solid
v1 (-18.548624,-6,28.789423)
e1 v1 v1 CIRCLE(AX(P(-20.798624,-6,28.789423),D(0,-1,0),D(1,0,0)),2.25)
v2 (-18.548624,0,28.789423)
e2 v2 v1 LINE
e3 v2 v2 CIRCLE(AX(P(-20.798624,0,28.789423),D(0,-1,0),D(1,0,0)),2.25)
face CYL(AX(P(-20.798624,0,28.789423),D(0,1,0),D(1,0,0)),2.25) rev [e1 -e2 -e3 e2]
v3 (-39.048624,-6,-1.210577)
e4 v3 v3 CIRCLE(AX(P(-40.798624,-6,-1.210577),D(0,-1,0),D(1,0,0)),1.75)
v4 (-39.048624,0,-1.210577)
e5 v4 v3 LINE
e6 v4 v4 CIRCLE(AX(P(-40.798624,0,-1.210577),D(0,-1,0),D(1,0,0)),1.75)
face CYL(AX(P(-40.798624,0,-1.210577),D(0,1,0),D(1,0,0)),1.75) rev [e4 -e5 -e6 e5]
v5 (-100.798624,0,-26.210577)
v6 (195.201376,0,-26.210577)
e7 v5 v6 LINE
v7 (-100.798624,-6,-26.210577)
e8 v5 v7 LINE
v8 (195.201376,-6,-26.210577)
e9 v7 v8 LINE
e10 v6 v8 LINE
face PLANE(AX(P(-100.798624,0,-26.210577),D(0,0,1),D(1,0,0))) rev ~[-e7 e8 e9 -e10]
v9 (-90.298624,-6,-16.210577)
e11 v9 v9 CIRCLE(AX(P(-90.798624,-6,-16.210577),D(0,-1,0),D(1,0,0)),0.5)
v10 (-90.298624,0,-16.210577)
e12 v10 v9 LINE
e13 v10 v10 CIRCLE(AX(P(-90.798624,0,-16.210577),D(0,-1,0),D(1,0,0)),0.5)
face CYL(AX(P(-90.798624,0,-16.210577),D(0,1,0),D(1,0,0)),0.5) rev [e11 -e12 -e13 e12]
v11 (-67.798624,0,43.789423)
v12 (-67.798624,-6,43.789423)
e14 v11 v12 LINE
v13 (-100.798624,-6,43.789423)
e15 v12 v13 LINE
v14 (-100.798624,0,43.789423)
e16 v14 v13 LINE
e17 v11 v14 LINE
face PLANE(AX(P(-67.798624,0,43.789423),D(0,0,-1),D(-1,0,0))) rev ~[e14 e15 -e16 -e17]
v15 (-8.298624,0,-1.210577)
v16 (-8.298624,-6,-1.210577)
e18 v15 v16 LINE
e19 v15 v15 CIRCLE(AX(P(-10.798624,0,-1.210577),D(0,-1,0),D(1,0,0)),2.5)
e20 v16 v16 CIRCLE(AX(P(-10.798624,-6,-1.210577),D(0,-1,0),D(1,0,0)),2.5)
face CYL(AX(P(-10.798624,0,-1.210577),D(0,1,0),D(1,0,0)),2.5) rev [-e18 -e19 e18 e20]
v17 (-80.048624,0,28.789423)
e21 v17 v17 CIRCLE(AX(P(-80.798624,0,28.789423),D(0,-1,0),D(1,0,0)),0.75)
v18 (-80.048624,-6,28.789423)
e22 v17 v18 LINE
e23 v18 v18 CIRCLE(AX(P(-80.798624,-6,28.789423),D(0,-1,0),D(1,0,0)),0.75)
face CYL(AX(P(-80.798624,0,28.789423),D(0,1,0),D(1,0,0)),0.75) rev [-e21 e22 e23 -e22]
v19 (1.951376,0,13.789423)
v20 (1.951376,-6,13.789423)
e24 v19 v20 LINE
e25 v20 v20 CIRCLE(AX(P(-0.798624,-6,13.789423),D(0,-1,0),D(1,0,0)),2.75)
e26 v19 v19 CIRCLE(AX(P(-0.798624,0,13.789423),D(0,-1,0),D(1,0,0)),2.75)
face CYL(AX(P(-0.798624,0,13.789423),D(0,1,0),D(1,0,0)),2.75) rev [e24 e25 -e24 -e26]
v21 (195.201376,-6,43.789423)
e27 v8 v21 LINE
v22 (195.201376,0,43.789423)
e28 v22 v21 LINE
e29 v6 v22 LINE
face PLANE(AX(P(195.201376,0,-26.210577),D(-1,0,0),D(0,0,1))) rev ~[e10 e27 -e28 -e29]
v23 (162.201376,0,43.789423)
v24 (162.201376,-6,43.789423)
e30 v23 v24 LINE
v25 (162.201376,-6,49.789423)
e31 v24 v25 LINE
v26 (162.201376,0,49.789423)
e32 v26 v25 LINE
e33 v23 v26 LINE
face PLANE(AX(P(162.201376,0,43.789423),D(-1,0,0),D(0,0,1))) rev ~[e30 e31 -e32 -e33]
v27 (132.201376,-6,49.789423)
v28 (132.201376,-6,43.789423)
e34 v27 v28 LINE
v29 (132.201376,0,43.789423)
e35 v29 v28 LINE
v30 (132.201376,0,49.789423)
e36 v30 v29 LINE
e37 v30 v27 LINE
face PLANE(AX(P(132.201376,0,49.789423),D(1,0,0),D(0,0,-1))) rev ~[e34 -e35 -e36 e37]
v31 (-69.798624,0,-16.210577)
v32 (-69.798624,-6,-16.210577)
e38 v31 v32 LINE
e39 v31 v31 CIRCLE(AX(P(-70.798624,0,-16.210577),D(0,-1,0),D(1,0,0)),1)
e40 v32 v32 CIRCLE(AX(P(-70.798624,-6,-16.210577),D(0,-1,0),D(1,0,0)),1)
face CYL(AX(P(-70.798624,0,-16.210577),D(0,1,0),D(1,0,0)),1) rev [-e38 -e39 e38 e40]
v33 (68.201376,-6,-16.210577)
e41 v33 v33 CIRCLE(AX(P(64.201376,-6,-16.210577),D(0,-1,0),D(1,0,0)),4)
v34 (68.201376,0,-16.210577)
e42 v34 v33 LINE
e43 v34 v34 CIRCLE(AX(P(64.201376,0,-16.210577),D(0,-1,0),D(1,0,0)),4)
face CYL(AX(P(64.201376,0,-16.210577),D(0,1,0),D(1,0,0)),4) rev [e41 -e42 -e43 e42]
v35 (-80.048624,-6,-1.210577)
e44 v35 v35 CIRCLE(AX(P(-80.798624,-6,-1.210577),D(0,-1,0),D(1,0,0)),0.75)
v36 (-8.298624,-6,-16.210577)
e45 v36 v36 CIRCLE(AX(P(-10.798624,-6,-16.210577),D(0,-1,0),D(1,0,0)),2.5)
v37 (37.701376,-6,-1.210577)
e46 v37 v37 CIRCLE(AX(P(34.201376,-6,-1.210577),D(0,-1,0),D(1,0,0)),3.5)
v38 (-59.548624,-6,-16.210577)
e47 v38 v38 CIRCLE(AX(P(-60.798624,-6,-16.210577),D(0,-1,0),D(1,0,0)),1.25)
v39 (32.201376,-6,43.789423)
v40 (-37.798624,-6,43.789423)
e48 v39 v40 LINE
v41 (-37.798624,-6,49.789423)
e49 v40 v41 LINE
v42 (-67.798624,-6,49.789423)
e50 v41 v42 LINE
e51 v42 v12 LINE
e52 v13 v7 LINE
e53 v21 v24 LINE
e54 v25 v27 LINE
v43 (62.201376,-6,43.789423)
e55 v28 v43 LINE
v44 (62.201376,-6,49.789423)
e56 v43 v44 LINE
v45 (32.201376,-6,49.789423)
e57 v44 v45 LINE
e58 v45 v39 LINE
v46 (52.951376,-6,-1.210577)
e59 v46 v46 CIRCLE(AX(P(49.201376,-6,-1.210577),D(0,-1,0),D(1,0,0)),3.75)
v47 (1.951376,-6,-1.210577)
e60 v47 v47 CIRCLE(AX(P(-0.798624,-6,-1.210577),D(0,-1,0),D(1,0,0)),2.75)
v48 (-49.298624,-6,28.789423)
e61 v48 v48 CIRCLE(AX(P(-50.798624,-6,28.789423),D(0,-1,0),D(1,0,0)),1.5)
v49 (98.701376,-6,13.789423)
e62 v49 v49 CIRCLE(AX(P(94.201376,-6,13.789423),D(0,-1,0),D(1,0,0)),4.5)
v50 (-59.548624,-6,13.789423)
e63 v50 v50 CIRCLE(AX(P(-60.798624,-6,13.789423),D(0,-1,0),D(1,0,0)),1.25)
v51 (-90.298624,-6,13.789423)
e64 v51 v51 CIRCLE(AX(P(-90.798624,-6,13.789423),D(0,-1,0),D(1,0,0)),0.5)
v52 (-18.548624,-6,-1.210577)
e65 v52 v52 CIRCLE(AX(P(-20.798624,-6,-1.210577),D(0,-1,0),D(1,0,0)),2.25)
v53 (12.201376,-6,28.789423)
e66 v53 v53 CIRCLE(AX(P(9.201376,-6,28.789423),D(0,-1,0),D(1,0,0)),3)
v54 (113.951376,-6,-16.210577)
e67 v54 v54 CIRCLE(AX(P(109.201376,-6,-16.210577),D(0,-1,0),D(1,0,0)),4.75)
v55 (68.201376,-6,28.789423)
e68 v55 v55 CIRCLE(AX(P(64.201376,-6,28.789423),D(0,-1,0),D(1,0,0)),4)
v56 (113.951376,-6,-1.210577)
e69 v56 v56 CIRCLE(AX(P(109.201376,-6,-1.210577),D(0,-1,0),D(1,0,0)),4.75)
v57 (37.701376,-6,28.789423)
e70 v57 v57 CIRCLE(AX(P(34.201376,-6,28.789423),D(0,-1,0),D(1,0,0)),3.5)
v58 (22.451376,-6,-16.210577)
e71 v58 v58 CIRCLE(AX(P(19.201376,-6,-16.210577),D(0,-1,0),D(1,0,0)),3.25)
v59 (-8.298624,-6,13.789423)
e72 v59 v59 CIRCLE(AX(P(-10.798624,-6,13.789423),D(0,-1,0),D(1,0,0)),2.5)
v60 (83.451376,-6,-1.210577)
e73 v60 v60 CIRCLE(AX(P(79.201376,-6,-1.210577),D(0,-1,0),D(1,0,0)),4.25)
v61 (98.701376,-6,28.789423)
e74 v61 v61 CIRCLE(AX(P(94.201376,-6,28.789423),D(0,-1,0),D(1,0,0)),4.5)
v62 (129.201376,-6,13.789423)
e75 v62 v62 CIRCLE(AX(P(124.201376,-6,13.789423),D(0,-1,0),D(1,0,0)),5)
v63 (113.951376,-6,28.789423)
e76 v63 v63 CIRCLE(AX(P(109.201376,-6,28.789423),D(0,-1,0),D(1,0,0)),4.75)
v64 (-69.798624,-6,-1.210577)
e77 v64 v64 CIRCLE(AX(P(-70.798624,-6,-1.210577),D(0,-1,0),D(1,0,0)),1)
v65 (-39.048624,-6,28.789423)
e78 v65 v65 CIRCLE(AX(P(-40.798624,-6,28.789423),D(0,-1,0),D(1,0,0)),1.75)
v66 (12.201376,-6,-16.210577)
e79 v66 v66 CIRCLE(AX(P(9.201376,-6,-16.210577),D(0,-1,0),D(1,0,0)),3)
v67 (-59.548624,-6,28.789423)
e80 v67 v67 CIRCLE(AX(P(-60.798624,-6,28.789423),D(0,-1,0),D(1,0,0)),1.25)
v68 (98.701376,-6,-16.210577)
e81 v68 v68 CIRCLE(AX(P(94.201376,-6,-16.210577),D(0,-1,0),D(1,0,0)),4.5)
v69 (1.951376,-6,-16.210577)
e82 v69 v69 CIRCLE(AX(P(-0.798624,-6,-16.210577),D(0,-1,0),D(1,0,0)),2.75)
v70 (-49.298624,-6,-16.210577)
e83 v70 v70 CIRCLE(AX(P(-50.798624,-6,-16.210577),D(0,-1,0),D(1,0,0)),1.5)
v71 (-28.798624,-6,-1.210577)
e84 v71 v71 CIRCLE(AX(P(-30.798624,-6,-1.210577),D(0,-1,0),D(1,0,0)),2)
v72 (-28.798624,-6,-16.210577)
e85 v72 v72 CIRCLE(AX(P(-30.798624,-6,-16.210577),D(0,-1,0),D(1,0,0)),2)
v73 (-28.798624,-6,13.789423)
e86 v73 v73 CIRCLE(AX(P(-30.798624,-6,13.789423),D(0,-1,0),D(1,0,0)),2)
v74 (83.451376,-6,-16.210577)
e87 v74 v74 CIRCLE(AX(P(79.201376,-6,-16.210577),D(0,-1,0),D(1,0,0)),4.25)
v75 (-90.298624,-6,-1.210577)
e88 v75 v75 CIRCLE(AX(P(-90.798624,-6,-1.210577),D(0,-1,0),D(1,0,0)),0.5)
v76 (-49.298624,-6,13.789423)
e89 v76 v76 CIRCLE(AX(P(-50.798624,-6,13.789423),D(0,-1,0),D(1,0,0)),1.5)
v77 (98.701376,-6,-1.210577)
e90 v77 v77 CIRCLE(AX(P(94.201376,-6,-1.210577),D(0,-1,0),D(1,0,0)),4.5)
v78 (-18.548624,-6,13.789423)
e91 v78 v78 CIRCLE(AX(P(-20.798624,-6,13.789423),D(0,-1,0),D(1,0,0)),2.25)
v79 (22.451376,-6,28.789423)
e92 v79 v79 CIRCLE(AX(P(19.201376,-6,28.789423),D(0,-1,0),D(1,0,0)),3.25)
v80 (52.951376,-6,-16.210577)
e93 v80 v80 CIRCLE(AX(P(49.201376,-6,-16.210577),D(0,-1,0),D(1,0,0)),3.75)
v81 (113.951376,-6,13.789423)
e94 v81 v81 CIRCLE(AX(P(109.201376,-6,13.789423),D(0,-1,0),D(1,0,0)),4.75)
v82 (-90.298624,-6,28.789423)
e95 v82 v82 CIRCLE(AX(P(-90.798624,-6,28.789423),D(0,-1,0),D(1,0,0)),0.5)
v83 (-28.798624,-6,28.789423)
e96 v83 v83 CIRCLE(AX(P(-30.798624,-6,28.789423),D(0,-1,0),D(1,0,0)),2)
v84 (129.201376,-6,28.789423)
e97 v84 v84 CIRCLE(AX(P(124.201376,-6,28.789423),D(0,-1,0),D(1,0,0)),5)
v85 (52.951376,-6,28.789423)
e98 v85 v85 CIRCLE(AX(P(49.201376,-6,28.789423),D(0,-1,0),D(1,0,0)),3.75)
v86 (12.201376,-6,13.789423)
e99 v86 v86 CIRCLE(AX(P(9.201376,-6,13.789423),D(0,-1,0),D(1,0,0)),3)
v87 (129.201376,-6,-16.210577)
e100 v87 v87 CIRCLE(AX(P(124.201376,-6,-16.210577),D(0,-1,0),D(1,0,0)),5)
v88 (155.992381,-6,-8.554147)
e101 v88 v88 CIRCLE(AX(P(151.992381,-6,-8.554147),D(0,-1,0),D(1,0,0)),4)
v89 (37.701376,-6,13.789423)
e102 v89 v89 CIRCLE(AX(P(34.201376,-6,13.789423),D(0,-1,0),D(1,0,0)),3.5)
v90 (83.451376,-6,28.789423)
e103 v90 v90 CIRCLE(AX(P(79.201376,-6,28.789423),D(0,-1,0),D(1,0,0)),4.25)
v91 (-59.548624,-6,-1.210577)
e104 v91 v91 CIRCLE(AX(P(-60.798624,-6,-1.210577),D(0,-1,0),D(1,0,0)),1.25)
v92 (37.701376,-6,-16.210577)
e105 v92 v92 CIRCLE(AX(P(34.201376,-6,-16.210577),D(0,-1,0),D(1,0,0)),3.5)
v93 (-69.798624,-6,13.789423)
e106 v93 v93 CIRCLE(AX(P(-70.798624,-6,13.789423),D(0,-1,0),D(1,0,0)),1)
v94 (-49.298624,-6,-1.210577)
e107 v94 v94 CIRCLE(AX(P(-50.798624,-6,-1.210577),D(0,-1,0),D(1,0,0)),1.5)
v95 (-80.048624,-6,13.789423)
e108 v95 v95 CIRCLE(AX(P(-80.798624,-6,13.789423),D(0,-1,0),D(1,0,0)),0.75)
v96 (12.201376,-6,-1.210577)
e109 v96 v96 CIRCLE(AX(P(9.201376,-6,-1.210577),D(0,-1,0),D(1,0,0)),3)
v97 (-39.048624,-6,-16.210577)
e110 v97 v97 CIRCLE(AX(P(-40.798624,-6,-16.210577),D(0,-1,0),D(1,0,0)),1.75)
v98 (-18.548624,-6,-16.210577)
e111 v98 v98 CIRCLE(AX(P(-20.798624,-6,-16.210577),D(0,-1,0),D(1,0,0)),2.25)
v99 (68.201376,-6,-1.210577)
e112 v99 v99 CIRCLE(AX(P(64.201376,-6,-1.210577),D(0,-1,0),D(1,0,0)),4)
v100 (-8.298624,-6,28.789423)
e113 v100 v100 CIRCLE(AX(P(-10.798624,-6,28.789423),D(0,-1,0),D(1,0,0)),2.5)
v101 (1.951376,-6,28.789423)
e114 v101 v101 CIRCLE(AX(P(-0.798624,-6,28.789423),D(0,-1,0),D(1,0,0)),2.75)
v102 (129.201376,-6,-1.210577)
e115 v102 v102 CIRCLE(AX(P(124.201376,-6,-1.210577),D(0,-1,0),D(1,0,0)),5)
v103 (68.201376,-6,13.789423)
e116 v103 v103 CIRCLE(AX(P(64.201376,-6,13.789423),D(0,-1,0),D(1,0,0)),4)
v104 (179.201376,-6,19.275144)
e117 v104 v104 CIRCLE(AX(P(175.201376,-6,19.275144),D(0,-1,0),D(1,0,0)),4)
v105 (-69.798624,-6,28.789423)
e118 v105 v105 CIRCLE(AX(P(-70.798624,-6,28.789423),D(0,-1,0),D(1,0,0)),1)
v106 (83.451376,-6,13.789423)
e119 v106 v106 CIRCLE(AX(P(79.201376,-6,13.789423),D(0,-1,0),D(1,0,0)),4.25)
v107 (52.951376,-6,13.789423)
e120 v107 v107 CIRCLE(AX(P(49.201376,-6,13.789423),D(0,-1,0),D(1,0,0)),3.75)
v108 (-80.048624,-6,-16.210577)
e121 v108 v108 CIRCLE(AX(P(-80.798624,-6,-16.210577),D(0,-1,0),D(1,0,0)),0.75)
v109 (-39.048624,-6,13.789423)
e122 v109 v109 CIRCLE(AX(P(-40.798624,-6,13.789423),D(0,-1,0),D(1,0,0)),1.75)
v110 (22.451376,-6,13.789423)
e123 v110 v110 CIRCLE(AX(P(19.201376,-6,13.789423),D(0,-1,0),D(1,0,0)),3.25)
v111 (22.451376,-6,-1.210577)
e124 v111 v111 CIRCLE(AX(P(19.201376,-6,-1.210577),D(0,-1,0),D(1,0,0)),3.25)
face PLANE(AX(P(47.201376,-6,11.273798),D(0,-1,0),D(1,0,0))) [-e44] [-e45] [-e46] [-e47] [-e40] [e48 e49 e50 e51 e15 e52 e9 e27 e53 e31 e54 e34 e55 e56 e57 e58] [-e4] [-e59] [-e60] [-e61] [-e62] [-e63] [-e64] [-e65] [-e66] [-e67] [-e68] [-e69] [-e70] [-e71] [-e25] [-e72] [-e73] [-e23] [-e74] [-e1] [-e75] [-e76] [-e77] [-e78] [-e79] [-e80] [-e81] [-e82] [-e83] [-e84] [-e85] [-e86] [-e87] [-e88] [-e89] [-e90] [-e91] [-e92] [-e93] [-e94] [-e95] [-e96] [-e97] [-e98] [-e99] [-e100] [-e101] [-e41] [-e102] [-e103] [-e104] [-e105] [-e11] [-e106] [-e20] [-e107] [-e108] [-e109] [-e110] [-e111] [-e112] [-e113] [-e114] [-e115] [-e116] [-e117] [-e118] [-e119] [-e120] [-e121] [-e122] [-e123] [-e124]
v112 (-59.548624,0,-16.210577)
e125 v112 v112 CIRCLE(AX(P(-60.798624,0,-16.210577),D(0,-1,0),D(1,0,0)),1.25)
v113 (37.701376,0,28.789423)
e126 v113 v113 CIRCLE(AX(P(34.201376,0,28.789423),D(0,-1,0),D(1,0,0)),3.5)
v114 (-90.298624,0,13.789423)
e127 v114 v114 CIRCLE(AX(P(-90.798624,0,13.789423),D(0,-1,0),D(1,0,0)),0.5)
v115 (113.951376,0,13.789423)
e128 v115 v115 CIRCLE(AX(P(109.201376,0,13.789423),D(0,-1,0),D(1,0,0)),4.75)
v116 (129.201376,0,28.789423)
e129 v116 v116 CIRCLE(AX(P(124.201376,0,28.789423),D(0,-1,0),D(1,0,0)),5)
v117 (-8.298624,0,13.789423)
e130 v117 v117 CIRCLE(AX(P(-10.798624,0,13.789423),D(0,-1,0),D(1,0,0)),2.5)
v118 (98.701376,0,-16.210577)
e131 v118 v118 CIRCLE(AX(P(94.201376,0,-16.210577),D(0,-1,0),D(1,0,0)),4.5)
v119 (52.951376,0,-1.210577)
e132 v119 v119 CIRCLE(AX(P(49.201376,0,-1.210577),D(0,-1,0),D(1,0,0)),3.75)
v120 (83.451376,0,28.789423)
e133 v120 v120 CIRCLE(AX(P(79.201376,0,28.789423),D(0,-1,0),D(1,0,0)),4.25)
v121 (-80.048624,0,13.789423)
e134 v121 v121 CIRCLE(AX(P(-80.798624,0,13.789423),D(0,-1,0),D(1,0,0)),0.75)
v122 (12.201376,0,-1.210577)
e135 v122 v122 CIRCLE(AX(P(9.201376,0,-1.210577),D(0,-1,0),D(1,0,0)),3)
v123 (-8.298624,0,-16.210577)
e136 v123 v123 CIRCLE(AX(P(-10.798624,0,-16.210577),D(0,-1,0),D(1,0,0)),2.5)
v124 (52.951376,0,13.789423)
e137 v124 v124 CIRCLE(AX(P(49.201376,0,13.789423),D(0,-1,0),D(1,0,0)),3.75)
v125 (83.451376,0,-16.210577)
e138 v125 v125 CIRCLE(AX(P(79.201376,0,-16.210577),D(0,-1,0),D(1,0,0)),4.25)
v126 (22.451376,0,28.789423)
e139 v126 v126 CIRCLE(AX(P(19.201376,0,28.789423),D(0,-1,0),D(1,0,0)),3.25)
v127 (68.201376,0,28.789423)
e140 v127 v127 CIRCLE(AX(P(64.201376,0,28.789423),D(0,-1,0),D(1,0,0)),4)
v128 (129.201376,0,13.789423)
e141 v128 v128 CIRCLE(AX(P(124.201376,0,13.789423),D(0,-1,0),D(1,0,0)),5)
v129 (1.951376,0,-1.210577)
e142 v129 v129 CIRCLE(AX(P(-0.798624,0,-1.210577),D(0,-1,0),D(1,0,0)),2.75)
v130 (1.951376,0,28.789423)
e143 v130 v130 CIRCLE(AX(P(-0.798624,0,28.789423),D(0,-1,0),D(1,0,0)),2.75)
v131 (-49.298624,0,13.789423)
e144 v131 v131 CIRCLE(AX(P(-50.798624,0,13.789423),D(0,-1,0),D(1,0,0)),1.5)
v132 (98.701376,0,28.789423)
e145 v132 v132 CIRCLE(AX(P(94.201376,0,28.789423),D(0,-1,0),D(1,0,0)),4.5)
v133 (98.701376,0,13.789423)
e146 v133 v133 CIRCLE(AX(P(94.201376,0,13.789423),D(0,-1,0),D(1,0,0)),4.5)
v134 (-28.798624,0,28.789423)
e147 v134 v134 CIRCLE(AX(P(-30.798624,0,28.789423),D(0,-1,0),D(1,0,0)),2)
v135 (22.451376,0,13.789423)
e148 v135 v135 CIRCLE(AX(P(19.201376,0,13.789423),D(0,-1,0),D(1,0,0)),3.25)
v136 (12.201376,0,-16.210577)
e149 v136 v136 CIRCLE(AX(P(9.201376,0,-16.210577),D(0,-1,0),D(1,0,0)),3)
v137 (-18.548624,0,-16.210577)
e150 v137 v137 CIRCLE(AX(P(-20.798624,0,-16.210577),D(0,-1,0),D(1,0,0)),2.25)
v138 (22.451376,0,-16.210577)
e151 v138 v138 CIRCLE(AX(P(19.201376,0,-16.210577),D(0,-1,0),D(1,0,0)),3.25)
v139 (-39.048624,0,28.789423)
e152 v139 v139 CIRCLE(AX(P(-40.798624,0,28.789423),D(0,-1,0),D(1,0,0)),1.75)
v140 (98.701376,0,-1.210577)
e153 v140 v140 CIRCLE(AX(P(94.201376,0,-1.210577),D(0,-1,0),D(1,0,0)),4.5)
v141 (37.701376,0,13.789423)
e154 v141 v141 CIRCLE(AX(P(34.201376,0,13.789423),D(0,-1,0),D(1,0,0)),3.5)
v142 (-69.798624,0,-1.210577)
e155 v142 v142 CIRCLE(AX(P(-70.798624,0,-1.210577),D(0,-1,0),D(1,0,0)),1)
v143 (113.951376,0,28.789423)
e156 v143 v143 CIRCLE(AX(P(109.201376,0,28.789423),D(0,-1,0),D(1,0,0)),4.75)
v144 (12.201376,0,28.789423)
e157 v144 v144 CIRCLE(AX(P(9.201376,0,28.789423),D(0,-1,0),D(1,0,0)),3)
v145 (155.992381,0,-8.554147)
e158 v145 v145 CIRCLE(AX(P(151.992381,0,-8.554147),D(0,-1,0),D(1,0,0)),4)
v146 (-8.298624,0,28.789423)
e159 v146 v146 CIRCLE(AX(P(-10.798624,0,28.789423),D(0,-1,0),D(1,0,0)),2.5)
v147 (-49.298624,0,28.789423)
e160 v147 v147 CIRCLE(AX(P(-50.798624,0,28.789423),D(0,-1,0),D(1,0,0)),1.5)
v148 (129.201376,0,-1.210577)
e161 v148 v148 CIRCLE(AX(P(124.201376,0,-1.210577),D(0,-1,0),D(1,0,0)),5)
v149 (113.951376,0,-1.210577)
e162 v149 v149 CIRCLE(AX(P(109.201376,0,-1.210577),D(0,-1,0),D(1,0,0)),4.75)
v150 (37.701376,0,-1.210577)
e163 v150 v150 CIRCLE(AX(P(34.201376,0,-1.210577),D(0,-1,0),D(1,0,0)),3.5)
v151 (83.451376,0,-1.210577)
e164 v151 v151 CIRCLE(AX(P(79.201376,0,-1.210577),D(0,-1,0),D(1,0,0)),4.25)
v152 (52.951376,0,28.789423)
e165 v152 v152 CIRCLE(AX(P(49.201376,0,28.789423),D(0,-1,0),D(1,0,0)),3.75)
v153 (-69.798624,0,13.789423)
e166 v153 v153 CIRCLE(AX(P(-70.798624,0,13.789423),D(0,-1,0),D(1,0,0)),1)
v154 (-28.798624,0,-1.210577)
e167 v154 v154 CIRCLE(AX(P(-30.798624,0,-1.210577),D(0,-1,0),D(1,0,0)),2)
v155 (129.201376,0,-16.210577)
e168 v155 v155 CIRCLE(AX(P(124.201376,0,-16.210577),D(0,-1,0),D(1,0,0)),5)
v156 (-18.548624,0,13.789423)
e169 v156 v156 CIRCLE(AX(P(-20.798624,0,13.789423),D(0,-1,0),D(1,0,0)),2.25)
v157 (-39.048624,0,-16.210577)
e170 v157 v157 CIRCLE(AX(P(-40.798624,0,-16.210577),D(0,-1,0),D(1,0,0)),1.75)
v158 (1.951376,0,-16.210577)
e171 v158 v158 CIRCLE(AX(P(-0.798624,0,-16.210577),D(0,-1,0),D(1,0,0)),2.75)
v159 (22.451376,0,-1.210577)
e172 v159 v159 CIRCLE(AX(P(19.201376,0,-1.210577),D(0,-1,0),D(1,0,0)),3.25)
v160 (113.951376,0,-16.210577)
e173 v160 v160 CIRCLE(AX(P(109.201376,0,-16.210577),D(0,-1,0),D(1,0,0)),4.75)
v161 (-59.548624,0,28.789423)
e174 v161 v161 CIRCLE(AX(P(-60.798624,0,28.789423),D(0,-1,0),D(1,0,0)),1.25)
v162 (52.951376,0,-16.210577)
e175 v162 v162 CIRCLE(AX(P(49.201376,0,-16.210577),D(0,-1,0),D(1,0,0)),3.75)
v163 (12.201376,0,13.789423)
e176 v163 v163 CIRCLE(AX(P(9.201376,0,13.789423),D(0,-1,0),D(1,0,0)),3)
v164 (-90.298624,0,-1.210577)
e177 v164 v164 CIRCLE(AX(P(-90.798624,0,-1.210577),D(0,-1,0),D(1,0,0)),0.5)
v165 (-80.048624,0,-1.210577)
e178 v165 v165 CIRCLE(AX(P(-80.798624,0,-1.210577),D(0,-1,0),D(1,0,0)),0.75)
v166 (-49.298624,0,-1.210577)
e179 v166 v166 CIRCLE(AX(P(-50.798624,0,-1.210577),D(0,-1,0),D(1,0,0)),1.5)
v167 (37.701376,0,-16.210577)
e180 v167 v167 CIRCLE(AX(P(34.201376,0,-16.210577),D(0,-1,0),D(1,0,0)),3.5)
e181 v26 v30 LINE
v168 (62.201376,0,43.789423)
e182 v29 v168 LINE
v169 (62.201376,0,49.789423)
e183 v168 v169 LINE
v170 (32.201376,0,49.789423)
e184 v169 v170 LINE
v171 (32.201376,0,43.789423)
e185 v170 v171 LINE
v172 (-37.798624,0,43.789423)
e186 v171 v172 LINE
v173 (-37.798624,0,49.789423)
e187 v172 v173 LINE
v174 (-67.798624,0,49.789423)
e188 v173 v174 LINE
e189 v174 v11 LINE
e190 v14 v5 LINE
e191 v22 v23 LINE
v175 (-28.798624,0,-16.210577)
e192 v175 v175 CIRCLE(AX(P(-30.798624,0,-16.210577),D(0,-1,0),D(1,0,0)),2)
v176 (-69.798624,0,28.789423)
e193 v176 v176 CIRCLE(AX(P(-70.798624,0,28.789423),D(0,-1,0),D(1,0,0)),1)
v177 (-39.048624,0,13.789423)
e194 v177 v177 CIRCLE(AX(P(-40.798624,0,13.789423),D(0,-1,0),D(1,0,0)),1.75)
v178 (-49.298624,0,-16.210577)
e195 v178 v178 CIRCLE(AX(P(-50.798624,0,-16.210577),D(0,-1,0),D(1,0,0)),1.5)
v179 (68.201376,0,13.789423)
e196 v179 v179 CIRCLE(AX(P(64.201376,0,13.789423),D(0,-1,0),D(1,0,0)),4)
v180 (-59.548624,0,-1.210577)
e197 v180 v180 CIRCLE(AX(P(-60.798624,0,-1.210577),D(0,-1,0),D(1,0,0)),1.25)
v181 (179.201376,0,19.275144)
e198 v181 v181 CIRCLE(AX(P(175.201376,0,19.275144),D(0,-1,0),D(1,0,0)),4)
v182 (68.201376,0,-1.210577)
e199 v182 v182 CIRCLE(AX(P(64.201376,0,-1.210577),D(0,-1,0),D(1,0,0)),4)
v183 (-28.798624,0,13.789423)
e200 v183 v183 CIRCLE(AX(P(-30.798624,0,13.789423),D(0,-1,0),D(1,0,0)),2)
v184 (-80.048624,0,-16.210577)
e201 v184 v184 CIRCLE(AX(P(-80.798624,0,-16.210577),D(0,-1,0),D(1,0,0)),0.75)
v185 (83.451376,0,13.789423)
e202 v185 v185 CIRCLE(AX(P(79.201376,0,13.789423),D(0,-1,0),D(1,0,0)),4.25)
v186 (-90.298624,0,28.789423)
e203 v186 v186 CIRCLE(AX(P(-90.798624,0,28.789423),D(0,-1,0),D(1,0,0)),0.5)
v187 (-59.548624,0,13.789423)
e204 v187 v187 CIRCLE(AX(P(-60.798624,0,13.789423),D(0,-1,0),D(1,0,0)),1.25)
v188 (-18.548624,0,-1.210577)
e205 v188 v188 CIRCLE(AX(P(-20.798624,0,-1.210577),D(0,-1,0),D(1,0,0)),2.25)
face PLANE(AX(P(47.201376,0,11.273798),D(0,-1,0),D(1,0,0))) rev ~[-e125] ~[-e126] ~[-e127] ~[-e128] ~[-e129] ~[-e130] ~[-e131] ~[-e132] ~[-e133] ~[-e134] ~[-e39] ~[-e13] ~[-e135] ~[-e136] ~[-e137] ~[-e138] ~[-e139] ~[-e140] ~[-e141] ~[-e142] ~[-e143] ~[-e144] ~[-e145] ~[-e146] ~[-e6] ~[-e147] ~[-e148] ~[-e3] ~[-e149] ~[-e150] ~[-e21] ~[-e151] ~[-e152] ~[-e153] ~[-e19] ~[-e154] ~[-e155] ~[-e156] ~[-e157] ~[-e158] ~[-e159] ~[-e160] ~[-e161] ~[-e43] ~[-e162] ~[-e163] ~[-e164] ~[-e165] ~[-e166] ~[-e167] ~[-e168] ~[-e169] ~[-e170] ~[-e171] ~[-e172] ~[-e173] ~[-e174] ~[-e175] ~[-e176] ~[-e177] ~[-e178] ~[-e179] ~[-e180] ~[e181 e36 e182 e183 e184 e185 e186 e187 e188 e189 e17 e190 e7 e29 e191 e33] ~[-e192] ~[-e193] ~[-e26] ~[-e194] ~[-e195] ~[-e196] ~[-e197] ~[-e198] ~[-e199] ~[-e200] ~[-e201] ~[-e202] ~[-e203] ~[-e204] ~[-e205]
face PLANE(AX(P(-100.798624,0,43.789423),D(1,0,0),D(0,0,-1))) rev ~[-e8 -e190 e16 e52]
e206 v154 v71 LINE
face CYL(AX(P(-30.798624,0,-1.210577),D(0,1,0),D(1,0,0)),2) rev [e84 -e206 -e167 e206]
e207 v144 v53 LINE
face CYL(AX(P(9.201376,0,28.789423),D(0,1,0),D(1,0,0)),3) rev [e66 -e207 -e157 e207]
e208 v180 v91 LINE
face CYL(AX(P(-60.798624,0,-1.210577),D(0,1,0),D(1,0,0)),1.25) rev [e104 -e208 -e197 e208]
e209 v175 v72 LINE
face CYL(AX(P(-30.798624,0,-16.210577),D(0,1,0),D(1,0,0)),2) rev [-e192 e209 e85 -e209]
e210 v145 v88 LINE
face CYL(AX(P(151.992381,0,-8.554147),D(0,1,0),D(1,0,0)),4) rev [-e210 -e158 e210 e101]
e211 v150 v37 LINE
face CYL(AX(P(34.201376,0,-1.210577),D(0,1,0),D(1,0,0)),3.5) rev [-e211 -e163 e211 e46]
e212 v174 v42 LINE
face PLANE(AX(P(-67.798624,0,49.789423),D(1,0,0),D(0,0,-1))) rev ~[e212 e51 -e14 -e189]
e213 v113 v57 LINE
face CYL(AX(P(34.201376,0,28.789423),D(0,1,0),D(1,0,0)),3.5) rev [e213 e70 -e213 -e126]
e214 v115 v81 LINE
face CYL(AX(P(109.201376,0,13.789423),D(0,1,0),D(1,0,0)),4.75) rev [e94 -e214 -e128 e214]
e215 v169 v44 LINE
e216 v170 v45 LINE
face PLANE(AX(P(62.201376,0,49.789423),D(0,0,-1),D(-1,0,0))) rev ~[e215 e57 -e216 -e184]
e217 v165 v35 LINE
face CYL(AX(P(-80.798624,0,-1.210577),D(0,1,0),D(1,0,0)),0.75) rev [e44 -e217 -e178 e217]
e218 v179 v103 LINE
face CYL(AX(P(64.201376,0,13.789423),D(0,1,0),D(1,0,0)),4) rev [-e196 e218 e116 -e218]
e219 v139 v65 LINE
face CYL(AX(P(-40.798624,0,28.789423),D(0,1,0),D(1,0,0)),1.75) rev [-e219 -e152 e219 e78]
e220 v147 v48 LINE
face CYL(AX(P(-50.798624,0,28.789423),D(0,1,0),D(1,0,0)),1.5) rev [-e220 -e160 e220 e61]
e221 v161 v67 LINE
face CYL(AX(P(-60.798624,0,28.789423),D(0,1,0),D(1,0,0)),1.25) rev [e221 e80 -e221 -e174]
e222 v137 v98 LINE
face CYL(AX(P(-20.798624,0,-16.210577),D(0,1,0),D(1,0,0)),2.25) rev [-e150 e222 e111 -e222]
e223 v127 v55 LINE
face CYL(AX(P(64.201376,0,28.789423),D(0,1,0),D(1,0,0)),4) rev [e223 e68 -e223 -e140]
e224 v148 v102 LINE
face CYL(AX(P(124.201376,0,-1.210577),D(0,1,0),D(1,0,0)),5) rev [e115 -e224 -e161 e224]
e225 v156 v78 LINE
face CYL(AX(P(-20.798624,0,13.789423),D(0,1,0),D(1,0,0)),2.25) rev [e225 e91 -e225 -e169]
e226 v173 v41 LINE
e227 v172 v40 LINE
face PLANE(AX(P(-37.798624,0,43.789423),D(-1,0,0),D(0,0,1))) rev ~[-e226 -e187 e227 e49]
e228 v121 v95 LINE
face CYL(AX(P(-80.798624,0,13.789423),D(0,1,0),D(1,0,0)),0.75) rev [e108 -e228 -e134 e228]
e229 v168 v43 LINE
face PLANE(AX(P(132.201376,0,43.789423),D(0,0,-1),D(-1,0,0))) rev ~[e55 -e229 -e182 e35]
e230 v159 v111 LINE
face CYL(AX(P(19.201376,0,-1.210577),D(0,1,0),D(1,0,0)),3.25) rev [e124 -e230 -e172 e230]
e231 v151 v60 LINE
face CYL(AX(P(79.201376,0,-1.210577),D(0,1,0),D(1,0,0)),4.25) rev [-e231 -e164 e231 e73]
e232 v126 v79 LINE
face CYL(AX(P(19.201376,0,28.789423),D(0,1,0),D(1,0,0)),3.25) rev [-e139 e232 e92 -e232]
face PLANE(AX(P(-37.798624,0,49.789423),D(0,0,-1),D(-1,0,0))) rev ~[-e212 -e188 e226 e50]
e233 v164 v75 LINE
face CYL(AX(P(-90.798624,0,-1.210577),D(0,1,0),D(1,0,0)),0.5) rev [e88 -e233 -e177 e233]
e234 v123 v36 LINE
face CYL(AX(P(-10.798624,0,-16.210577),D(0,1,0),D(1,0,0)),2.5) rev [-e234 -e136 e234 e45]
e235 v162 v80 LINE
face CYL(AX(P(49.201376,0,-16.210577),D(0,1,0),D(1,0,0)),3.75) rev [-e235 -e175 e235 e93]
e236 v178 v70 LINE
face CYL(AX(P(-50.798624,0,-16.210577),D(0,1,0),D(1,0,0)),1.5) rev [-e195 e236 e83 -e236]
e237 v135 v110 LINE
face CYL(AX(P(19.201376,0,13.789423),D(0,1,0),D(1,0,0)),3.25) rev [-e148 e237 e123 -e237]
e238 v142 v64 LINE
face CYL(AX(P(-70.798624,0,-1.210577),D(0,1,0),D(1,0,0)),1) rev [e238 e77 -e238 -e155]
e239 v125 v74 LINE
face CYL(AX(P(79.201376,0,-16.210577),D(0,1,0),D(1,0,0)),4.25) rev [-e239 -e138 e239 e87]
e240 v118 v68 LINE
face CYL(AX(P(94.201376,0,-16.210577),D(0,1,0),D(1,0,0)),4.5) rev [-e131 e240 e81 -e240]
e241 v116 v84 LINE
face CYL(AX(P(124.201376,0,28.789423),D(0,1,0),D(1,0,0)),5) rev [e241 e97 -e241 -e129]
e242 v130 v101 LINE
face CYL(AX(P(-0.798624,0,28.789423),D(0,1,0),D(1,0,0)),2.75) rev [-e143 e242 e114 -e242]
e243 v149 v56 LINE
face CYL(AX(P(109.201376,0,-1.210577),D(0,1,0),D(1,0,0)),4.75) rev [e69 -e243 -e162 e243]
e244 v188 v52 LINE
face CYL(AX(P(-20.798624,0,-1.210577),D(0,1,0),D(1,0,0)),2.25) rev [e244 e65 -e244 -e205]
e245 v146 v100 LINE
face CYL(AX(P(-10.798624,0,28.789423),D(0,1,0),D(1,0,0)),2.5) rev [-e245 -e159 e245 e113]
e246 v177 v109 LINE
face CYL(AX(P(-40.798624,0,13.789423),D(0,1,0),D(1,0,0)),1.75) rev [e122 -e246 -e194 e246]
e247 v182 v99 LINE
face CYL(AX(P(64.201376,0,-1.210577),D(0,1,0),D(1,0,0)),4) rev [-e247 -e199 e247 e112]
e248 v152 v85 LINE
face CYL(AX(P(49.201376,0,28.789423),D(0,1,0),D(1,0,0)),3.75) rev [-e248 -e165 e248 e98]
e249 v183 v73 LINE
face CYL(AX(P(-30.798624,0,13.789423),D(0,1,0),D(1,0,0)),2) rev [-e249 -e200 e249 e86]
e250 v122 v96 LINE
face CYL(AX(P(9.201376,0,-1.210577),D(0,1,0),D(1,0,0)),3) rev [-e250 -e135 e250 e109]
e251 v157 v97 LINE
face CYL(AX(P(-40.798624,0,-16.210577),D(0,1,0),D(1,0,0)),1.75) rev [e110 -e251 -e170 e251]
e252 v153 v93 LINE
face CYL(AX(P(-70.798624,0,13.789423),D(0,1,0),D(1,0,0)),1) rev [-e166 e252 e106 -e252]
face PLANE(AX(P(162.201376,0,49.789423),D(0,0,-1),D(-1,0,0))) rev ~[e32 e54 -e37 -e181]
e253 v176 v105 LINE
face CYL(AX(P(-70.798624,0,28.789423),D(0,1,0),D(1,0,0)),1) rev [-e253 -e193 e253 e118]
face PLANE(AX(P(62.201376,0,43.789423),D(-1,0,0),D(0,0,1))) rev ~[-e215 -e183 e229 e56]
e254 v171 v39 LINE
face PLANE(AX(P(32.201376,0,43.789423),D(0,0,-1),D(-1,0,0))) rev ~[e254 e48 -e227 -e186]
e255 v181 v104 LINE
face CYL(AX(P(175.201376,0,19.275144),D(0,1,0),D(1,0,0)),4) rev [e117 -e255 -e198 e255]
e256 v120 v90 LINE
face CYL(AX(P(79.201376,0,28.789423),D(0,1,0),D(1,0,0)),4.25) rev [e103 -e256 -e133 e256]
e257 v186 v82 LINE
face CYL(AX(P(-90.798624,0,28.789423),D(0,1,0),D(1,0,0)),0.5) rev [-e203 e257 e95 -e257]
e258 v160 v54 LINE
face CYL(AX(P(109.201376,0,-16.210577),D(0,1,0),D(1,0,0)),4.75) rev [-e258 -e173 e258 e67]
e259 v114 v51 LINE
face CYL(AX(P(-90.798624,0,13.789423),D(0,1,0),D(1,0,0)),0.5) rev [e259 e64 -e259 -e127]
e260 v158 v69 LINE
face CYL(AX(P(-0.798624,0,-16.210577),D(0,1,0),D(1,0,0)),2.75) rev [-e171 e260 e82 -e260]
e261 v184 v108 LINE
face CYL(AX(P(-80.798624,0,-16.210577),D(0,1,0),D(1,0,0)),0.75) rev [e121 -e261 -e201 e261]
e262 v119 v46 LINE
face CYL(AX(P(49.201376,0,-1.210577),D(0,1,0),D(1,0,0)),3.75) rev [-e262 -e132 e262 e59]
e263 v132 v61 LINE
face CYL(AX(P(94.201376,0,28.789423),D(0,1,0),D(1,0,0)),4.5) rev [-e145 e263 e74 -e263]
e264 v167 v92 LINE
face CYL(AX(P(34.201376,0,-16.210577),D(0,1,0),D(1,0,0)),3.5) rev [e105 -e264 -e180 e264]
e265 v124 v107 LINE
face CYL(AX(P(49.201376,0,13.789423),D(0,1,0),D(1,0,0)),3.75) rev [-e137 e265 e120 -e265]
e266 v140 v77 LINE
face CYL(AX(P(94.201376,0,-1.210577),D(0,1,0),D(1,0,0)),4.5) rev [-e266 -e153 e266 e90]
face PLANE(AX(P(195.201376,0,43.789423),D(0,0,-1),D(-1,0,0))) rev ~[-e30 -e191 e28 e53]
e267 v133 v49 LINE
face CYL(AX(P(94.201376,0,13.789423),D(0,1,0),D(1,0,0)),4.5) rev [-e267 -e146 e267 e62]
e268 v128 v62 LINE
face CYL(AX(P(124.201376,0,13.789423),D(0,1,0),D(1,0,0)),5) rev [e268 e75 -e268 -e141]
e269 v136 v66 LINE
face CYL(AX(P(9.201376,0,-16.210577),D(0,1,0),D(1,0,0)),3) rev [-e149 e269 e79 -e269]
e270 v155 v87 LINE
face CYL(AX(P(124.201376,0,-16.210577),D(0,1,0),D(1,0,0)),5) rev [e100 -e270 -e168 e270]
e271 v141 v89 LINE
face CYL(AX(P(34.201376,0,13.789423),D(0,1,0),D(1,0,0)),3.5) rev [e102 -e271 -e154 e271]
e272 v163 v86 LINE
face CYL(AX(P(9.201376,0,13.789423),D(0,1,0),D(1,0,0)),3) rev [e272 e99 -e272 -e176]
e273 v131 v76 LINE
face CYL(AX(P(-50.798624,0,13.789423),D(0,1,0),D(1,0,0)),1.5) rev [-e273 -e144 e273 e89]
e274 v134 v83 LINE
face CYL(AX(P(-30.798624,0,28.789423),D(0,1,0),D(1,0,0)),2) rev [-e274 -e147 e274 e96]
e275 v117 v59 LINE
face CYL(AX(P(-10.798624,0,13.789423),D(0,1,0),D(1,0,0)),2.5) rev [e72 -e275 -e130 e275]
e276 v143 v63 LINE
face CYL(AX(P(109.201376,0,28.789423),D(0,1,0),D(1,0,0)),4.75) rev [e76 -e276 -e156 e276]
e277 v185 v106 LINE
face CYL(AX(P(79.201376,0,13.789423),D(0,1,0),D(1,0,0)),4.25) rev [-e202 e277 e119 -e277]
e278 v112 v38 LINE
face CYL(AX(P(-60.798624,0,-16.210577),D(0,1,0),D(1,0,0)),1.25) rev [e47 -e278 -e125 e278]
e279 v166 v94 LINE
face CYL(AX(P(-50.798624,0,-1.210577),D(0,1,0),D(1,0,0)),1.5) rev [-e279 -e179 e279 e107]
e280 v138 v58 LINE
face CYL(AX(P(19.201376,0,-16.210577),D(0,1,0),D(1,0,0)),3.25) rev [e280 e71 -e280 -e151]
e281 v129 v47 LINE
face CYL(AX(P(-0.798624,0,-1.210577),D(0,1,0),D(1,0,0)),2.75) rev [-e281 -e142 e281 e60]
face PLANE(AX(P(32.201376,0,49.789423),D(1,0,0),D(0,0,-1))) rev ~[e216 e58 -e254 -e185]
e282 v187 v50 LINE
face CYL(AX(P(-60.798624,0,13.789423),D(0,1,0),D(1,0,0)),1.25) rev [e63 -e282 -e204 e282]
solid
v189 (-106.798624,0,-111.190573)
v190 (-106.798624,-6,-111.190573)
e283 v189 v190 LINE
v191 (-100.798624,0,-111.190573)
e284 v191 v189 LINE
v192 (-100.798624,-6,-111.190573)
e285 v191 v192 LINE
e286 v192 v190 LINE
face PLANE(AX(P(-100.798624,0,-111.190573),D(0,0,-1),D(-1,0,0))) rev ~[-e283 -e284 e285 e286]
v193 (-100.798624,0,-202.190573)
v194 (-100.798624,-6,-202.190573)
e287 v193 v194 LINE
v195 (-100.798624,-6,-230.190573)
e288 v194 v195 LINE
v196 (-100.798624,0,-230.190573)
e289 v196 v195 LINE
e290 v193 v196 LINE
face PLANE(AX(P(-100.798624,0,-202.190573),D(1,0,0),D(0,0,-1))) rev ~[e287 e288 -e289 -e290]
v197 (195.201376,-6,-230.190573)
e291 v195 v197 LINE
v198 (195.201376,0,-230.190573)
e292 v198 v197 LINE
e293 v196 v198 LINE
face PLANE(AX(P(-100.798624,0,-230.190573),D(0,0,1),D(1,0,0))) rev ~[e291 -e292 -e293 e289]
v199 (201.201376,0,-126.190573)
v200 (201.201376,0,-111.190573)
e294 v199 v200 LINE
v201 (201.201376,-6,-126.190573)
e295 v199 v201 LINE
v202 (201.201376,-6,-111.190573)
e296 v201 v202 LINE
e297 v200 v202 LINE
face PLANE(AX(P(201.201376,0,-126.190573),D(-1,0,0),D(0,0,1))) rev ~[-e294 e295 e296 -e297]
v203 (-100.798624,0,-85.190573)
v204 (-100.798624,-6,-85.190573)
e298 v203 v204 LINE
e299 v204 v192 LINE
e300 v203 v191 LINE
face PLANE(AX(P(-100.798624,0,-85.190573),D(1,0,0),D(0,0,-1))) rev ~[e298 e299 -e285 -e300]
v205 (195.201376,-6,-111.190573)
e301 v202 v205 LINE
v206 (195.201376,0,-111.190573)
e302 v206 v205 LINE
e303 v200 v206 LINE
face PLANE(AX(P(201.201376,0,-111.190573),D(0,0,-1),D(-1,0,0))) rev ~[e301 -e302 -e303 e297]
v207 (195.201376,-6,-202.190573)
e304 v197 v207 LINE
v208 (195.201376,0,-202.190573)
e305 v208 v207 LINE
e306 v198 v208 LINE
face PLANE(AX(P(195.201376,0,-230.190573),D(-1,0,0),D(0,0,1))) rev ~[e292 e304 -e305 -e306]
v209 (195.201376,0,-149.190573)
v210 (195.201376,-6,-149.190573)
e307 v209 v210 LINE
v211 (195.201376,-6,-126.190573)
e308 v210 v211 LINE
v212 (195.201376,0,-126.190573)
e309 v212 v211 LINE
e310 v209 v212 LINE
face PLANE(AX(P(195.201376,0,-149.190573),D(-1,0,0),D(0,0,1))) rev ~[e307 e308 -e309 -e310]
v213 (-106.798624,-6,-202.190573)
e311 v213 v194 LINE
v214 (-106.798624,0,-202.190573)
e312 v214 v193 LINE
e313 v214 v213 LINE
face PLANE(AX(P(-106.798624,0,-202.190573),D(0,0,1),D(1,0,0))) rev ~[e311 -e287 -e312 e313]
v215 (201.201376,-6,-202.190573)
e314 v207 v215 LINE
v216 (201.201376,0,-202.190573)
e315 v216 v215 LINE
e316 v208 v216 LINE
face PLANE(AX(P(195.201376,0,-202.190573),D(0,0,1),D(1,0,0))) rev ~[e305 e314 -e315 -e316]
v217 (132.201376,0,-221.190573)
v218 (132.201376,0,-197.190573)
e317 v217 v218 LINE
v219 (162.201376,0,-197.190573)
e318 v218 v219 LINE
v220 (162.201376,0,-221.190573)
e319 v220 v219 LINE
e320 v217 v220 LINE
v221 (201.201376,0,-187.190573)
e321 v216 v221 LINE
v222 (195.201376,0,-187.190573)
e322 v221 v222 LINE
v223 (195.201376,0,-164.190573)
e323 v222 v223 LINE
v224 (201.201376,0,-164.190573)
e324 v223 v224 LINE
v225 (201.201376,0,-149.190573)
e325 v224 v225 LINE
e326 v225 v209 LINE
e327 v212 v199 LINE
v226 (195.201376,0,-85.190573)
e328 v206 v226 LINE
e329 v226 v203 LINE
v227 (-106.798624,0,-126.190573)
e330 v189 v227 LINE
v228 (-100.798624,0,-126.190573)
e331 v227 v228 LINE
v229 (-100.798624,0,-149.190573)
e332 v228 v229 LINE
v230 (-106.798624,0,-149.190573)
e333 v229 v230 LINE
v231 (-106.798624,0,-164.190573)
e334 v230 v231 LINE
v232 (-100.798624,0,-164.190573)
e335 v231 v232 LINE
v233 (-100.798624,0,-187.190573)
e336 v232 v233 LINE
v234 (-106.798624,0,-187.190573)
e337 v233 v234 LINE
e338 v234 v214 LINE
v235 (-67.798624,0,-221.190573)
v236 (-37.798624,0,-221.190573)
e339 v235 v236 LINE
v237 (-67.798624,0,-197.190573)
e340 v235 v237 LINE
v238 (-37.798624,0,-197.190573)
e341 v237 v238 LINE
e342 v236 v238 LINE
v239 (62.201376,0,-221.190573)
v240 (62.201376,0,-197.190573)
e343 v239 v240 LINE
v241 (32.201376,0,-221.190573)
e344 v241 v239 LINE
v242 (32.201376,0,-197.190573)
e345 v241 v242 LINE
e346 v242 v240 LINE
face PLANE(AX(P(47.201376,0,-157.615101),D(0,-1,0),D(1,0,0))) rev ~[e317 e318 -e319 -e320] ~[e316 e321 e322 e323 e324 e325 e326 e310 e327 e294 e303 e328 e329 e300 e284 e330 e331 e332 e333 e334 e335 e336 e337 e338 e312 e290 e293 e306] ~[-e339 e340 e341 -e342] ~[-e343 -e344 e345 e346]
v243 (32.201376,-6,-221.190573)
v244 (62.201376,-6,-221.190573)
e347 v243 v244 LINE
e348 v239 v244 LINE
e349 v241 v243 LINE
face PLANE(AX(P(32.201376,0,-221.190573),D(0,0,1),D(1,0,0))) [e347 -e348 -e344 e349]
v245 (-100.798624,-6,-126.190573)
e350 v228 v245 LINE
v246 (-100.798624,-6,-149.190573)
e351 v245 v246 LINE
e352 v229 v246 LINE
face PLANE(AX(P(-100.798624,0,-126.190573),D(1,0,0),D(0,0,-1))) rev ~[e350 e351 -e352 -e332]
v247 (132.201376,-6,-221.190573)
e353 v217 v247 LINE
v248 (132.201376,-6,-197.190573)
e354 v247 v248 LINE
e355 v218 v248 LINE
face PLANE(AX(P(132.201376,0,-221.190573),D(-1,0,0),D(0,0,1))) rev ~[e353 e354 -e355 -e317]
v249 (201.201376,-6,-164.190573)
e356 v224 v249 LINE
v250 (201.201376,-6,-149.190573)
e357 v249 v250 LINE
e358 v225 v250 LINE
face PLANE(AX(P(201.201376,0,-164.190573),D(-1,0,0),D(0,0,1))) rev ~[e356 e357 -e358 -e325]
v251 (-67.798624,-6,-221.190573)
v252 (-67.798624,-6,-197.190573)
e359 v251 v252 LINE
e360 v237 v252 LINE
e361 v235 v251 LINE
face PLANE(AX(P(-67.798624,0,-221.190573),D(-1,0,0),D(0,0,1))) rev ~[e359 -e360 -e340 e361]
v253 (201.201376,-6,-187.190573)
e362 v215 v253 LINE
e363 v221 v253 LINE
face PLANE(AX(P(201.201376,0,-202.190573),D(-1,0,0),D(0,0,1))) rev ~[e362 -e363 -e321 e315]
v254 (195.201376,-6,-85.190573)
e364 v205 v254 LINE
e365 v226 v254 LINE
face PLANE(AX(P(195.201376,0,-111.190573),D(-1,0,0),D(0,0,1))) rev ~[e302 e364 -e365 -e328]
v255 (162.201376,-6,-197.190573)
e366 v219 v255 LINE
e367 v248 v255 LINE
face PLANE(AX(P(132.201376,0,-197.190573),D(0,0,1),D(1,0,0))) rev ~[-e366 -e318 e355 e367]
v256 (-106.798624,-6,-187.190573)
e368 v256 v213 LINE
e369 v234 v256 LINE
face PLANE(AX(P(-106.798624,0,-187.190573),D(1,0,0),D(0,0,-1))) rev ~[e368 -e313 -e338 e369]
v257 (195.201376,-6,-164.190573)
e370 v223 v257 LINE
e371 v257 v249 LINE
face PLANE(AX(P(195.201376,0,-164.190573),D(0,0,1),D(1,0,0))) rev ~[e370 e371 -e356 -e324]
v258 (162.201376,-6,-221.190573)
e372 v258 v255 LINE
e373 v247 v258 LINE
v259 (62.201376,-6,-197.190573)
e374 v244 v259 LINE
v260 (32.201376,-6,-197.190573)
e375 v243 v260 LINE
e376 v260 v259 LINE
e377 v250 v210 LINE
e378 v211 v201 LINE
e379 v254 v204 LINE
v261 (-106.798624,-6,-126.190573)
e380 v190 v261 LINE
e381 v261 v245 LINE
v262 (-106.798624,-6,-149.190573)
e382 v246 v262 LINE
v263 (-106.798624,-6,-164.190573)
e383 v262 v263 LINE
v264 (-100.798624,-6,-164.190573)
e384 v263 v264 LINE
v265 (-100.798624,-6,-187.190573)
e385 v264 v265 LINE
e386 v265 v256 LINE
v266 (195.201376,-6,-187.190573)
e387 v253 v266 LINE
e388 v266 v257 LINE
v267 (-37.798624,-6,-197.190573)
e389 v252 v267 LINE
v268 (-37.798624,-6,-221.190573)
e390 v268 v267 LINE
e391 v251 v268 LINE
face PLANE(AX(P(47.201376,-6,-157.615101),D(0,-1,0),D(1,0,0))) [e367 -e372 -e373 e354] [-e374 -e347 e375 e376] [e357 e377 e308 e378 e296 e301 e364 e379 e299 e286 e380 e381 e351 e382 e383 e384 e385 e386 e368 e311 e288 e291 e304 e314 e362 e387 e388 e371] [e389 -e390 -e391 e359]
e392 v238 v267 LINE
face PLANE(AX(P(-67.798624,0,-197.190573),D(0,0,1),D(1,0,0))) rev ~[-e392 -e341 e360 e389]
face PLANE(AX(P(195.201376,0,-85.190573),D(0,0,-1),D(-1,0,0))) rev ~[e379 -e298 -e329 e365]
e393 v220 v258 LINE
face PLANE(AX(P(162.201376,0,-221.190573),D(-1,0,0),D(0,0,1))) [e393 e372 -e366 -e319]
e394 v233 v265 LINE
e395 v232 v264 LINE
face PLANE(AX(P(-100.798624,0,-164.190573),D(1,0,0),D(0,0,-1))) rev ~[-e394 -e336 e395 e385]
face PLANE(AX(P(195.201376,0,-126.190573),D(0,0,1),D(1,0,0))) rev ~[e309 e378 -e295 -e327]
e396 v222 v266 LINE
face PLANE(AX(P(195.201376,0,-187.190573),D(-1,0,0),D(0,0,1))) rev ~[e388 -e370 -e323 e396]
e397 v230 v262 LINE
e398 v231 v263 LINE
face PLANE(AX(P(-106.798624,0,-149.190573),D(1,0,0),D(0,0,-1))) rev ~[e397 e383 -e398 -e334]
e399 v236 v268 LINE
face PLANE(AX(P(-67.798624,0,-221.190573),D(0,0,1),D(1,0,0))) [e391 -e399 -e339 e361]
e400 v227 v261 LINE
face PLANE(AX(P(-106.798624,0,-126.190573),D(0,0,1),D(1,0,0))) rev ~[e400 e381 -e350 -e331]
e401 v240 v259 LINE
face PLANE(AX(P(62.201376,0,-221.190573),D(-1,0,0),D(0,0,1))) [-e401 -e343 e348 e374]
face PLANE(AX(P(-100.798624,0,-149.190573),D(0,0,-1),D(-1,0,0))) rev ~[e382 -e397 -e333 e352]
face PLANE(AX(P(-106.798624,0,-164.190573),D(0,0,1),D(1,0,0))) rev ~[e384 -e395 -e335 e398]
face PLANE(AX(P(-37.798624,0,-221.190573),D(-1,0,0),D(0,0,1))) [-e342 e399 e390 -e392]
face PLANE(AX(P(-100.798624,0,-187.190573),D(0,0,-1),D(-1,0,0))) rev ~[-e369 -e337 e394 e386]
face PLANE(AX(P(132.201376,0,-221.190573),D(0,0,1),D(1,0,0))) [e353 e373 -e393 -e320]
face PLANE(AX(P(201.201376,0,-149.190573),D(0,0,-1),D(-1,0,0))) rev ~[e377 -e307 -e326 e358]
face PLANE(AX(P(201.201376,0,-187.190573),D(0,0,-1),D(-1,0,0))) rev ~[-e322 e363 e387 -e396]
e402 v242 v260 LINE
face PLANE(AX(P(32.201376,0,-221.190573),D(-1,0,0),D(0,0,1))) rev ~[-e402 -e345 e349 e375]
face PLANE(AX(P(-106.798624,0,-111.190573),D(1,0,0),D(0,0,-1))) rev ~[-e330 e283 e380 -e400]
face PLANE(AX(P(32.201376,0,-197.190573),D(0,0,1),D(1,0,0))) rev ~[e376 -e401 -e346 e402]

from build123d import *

# Parameters (mm, degrees)
F0_W     = 30
F0_H     = 24
F0_R     = 0.5
F0_R_2   = 0.75
F0_R_3   = 1
F0_R_4   = 1.25
F0_R_5   = 1.5
F0_R_6   = 1.75
F0_R_7   = 2
F0_R_8   = 2.25
F0_R_9   = 2.5
F0_R_10  = 2.75
F0_R_11  = 3
F0_R_12  = 3.25
F0_R_13  = 3.5
F0_R_14  = 3.75
F0_R_15  = 4
F0_R_16  = 4.25
F0_R_17  = 4.5
F0_R_18  = 4.75
F0_R_19  = 5
F1_DEPTH = 6


with BuildPart() as f1:
    # F0 (on Front) → F1 (new body)
    with BuildSketch(Plane.XZ):
        Polygon((195.201376, -85.190573), (-100.798624, -85.190573), (-100.798624, -111.190573), (-106.798624, -111.190573), (-106.798624, -126.190573), (-100.798624, -126.190573), (-100.798624, -149.190573), (-106.798624, -149.190573), (-106.798624, -164.190573), (-100.798624, -164.190573), (-100.798624, -187.190573), (-106.798624, -187.190573), (-106.798624, -202.190573), (-100.798624, -202.190573), (-100.798624, -230.190573), (195.201376, -230.190573), (195.201376, -202.190573), (201.201376, -202.190573), (201.201376, -187.190573), (195.201376, -187.190573), (195.201376, -164.190573), (201.201376, -164.190573), (201.201376, -149.190573), (195.201376, -149.190573), (195.201376, -126.190573), (201.201376, -126.190573), (201.201376, -111.190573), (195.201376, -111.190573), align=None)
        with Locations((-52.798624, -209.190573)):
            Rectangle(F0_W, F0_H, mode=Mode.SUBTRACT)
        with Locations((47.201376, -209.190573)):
            Rectangle(F0_W, F0_H, mode=Mode.SUBTRACT)
        with Locations((147.201376, -209.190573)):
            Rectangle(F0_W, F0_H, mode=Mode.SUBTRACT)
        Polygon((195.201376, -26.210577), (195.201376, 43.789423), (162.201376, 43.789423), (162.201376, 49.789423), (132.201376, 49.789423), (132.201376, 43.789423), (62.201376, 43.789423), (62.201376, 49.789423), (32.201376, 49.789423), (32.201376, 43.789423), (-37.798624, 43.789423), (-37.798624, 49.789423), (-67.798624, 49.789423), (-67.798624, 43.789423), (-100.798624, 43.789423), (-100.798624, -26.210577), align=None)
        with Locations((-90.798624, -16.210577)):
            Circle(F0_R, mode=Mode.SUBTRACT)
        with Locations((-80.798624, -16.210577)):
            Circle(F0_R_2, mode=Mode.SUBTRACT)
        with Locations((-70.798624, -16.210577)):
            Circle(F0_R_3, mode=Mode.SUBTRACT)
        with Locations((-90.798624, -1.210577)):
            Circle(F0_R, mode=Mode.SUBTRACT)
        with Locations((-90.798624, 13.789423)):
            Circle(F0_R, mode=Mode.SUBTRACT)
        with Locations((-80.798624, -1.210577)):
            Circle(F0_R_2, mode=Mode.SUBTRACT)
        with Locations((-70.798624, -1.210577)):
            Circle(F0_R_3, mode=Mode.SUBTRACT)
        with Locations((-80.798624, 13.789423)):
            Circle(F0_R_2, mode=Mode.SUBTRACT)
        with Locations((-70.798624, 13.789423)):
            Circle(F0_R_3, mode=Mode.SUBTRACT)
        with Locations((-60.798624, -16.210577)):
            Circle(F0_R_4, mode=Mode.SUBTRACT)
        with Locations((-50.798624, -16.210577)):
            Circle(F0_R_5, mode=Mode.SUBTRACT)
        with Locations((-40.798624, -16.210577)):
            Circle(F0_R_6, mode=Mode.SUBTRACT)
        with Locations((-30.798624, -16.210577)):
            Circle(F0_R_7, mode=Mode.SUBTRACT)
        with Locations((-60.798624, -1.210577)):
            Circle(F0_R_4, mode=Mode.SUBTRACT)
        with Locations((-50.798624, -1.210577)):
            Circle(F0_R_5, mode=Mode.SUBTRACT)
        with Locations((-60.798624, 13.789423)):
            Circle(F0_R_4, mode=Mode.SUBTRACT)
        with Locations((-50.798624, 13.789423)):
            Circle(F0_R_5, mode=Mode.SUBTRACT)
        with Locations((-40.798624, -1.210577)):
            Circle(F0_R_6, mode=Mode.SUBTRACT)
        with Locations((-30.798624, -1.210577)):
            Circle(F0_R_7, mode=Mode.SUBTRACT)
        with Locations((-40.798624, 13.789423)):
            Circle(F0_R_6, mode=Mode.SUBTRACT)
        with Locations((-30.798624, 13.789423)):
            Circle(F0_R_7, mode=Mode.SUBTRACT)
        with Locations((-90.798624, 28.789423)):
            Circle(F0_R, mode=Mode.SUBTRACT)
        with Locations((-80.798624, 28.789423)):
            Circle(F0_R_2, mode=Mode.SUBTRACT)
        with Locations((-70.798624, 28.789423)):
            Circle(F0_R_3, mode=Mode.SUBTRACT)
        with Locations((-60.798624, 28.789423)):
            Circle(F0_R_4, mode=Mode.SUBTRACT)
        with Locations((-50.798624, 28.789423)):
            Circle(F0_R_5, mode=Mode.SUBTRACT)
        with Locations((-40.798624, 28.789423)):
            Circle(F0_R_6, mode=Mode.SUBTRACT)
        with Locations((-30.798624, 28.789423)):
            Circle(F0_R_7, mode=Mode.SUBTRACT)
        with Locations((-20.798624, -16.210577)):
            Circle(F0_R_8, mode=Mode.SUBTRACT)
        with Locations((-10.798624, -16.210577)):
            Circle(F0_R_9, mode=Mode.SUBTRACT)
        with Locations((-0.798624, -16.210577)):
            Circle(F0_R_10, mode=Mode.SUBTRACT)
        with Locations((-20.798624, -1.210577)):
            Circle(F0_R_8, mode=Mode.SUBTRACT)
        with Locations((-10.798624, -1.210577)):
            Circle(F0_R_9, mode=Mode.SUBTRACT)
        with Locations((-20.798624, 13.789423)):
            Circle(F0_R_8, mode=Mode.SUBTRACT)
        with Locations((-10.798624, 13.789423)):
            Circle(F0_R_9, mode=Mode.SUBTRACT)
        with Locations((-0.798624, -1.210577)):
            Circle(F0_R_10, mode=Mode.SUBTRACT)
        with Locations((-0.798624, 13.789423)):
            Circle(F0_R_10, mode=Mode.SUBTRACT)
        with Locations((9.201376, -16.210577)):
            Circle(F0_R_11, mode=Mode.SUBTRACT)
        with Locations((19.201376, -16.210577)):
            Circle(F0_R_12, mode=Mode.SUBTRACT)
        with Locations((34.201376, -16.210577)):
            Circle(F0_R_13, mode=Mode.SUBTRACT)
        with Locations((9.201376, -1.210577)):
            Circle(F0_R_11, mode=Mode.SUBTRACT)
        with Locations((19.201376, -1.210577)):
            Circle(F0_R_12, mode=Mode.SUBTRACT)
        with Locations((9.201376, 13.789423)):
            Circle(F0_R_11, mode=Mode.SUBTRACT)
        with Locations((19.201376, 13.789423)):
            Circle(F0_R_12, mode=Mode.SUBTRACT)
        with Locations((34.201376, -1.210577)):
            Circle(F0_R_13, mode=Mode.SUBTRACT)
        with Locations((34.201376, 13.789423)):
            Circle(F0_R_13, mode=Mode.SUBTRACT)
        with Locations((-20.798624, 28.789423)):
            Circle(F0_R_8, mode=Mode.SUBTRACT)
        with Locations((-10.798624, 28.789423)):
            Circle(F0_R_9, mode=Mode.SUBTRACT)
        with Locations((-0.798624, 28.789423)):
            Circle(F0_R_10, mode=Mode.SUBTRACT)
        with Locations((9.201376, 28.789423)):
            Circle(F0_R_11, mode=Mode.SUBTRACT)
        with Locations((19.201376, 28.789423)):
            Circle(F0_R_12, mode=Mode.SUBTRACT)
        with Locations((34.201376, 28.789423)):
            Circle(F0_R_13, mode=Mode.SUBTRACT)
        with Locations((49.201376, -16.210577)):
            Circle(F0_R_14, mode=Mode.SUBTRACT)
        with Locations((64.201376, -16.210577)):
            Circle(F0_R_15, mode=Mode.SUBTRACT)
        with Locations((79.201376, -16.210577)):
            Circle(F0_R_16, mode=Mode.SUBTRACT)
        with Locations((49.201376, -1.210577)):
            Circle(F0_R_14, mode=Mode.SUBTRACT)
        with Locations((64.201376, -1.210577)):
            Circle(F0_R_15, mode=Mode.SUBTRACT)
        with Locations((49.201376, 13.789423)):
            Circle(F0_R_14, mode=Mode.SUBTRACT)
        with Locations((64.201376, 13.789423)):
            Circle(F0_R_15, mode=Mode.SUBTRACT)
        with Locations((79.201376, -1.210577)):
            Circle(F0_R_16, mode=Mode.SUBTRACT)
        with Locations((79.201376, 13.789423)):
            Circle(F0_R_16, mode=Mode.SUBTRACT)
        with Locations((94.201376, -16.210577)):
            Circle(F0_R_17, mode=Mode.SUBTRACT)
        with Locations((109.201376, -16.210577)):
            Circle(F0_R_18, mode=Mode.SUBTRACT)
        with Locations((124.201376, -16.210577)):
            Circle(F0_R_19, mode=Mode.SUBTRACT)
        with Locations((94.201376, -1.210577)):
            Circle(F0_R_17, mode=Mode.SUBTRACT)
        with Locations((94.201376, 13.789423)):
            Circle(F0_R_17, mode=Mode.SUBTRACT)
        with Locations((109.201376, -1.210577)):
            Circle(F0_R_18, mode=Mode.SUBTRACT)
        with Locations((124.201376, -1.210577)):
            Circle(F0_R_19, mode=Mode.SUBTRACT)
        with Locations((109.201376, 13.789423)):
            Circle(F0_R_18, mode=Mode.SUBTRACT)
        with Locations((124.201376, 13.789423)):
            Circle(F0_R_19, mode=Mode.SUBTRACT)
        with Locations((49.201376, 28.789423)):
            Circle(F0_R_14, mode=Mode.SUBTRACT)
        with Locations((64.201376, 28.789423)):
            Circle(F0_R_15, mode=Mode.SUBTRACT)
        with Locations((79.201376, 28.789423)):
            Circle(F0_R_16, mode=Mode.SUBTRACT)
        with Locations((94.201376, 28.789423)):
            Circle(F0_R_17, mode=Mode.SUBTRACT)
        with Locations((109.201376, 28.789423)):
            Circle(F0_R_18, mode=Mode.SUBTRACT)
        with Locations((124.201376, 28.789423)):
            Circle(F0_R_19, mode=Mode.SUBTRACT)
        with Locations((151.992381, -8.554147)):
            Circle(F0_R_15, mode=Mode.SUBTRACT)
        with Locations((175.201376, 19.275144)):
            Circle(F0_R_15, mode=Mode.SUBTRACT)
    extrude(amount=F1_DEPTH)


solid = f1.part
